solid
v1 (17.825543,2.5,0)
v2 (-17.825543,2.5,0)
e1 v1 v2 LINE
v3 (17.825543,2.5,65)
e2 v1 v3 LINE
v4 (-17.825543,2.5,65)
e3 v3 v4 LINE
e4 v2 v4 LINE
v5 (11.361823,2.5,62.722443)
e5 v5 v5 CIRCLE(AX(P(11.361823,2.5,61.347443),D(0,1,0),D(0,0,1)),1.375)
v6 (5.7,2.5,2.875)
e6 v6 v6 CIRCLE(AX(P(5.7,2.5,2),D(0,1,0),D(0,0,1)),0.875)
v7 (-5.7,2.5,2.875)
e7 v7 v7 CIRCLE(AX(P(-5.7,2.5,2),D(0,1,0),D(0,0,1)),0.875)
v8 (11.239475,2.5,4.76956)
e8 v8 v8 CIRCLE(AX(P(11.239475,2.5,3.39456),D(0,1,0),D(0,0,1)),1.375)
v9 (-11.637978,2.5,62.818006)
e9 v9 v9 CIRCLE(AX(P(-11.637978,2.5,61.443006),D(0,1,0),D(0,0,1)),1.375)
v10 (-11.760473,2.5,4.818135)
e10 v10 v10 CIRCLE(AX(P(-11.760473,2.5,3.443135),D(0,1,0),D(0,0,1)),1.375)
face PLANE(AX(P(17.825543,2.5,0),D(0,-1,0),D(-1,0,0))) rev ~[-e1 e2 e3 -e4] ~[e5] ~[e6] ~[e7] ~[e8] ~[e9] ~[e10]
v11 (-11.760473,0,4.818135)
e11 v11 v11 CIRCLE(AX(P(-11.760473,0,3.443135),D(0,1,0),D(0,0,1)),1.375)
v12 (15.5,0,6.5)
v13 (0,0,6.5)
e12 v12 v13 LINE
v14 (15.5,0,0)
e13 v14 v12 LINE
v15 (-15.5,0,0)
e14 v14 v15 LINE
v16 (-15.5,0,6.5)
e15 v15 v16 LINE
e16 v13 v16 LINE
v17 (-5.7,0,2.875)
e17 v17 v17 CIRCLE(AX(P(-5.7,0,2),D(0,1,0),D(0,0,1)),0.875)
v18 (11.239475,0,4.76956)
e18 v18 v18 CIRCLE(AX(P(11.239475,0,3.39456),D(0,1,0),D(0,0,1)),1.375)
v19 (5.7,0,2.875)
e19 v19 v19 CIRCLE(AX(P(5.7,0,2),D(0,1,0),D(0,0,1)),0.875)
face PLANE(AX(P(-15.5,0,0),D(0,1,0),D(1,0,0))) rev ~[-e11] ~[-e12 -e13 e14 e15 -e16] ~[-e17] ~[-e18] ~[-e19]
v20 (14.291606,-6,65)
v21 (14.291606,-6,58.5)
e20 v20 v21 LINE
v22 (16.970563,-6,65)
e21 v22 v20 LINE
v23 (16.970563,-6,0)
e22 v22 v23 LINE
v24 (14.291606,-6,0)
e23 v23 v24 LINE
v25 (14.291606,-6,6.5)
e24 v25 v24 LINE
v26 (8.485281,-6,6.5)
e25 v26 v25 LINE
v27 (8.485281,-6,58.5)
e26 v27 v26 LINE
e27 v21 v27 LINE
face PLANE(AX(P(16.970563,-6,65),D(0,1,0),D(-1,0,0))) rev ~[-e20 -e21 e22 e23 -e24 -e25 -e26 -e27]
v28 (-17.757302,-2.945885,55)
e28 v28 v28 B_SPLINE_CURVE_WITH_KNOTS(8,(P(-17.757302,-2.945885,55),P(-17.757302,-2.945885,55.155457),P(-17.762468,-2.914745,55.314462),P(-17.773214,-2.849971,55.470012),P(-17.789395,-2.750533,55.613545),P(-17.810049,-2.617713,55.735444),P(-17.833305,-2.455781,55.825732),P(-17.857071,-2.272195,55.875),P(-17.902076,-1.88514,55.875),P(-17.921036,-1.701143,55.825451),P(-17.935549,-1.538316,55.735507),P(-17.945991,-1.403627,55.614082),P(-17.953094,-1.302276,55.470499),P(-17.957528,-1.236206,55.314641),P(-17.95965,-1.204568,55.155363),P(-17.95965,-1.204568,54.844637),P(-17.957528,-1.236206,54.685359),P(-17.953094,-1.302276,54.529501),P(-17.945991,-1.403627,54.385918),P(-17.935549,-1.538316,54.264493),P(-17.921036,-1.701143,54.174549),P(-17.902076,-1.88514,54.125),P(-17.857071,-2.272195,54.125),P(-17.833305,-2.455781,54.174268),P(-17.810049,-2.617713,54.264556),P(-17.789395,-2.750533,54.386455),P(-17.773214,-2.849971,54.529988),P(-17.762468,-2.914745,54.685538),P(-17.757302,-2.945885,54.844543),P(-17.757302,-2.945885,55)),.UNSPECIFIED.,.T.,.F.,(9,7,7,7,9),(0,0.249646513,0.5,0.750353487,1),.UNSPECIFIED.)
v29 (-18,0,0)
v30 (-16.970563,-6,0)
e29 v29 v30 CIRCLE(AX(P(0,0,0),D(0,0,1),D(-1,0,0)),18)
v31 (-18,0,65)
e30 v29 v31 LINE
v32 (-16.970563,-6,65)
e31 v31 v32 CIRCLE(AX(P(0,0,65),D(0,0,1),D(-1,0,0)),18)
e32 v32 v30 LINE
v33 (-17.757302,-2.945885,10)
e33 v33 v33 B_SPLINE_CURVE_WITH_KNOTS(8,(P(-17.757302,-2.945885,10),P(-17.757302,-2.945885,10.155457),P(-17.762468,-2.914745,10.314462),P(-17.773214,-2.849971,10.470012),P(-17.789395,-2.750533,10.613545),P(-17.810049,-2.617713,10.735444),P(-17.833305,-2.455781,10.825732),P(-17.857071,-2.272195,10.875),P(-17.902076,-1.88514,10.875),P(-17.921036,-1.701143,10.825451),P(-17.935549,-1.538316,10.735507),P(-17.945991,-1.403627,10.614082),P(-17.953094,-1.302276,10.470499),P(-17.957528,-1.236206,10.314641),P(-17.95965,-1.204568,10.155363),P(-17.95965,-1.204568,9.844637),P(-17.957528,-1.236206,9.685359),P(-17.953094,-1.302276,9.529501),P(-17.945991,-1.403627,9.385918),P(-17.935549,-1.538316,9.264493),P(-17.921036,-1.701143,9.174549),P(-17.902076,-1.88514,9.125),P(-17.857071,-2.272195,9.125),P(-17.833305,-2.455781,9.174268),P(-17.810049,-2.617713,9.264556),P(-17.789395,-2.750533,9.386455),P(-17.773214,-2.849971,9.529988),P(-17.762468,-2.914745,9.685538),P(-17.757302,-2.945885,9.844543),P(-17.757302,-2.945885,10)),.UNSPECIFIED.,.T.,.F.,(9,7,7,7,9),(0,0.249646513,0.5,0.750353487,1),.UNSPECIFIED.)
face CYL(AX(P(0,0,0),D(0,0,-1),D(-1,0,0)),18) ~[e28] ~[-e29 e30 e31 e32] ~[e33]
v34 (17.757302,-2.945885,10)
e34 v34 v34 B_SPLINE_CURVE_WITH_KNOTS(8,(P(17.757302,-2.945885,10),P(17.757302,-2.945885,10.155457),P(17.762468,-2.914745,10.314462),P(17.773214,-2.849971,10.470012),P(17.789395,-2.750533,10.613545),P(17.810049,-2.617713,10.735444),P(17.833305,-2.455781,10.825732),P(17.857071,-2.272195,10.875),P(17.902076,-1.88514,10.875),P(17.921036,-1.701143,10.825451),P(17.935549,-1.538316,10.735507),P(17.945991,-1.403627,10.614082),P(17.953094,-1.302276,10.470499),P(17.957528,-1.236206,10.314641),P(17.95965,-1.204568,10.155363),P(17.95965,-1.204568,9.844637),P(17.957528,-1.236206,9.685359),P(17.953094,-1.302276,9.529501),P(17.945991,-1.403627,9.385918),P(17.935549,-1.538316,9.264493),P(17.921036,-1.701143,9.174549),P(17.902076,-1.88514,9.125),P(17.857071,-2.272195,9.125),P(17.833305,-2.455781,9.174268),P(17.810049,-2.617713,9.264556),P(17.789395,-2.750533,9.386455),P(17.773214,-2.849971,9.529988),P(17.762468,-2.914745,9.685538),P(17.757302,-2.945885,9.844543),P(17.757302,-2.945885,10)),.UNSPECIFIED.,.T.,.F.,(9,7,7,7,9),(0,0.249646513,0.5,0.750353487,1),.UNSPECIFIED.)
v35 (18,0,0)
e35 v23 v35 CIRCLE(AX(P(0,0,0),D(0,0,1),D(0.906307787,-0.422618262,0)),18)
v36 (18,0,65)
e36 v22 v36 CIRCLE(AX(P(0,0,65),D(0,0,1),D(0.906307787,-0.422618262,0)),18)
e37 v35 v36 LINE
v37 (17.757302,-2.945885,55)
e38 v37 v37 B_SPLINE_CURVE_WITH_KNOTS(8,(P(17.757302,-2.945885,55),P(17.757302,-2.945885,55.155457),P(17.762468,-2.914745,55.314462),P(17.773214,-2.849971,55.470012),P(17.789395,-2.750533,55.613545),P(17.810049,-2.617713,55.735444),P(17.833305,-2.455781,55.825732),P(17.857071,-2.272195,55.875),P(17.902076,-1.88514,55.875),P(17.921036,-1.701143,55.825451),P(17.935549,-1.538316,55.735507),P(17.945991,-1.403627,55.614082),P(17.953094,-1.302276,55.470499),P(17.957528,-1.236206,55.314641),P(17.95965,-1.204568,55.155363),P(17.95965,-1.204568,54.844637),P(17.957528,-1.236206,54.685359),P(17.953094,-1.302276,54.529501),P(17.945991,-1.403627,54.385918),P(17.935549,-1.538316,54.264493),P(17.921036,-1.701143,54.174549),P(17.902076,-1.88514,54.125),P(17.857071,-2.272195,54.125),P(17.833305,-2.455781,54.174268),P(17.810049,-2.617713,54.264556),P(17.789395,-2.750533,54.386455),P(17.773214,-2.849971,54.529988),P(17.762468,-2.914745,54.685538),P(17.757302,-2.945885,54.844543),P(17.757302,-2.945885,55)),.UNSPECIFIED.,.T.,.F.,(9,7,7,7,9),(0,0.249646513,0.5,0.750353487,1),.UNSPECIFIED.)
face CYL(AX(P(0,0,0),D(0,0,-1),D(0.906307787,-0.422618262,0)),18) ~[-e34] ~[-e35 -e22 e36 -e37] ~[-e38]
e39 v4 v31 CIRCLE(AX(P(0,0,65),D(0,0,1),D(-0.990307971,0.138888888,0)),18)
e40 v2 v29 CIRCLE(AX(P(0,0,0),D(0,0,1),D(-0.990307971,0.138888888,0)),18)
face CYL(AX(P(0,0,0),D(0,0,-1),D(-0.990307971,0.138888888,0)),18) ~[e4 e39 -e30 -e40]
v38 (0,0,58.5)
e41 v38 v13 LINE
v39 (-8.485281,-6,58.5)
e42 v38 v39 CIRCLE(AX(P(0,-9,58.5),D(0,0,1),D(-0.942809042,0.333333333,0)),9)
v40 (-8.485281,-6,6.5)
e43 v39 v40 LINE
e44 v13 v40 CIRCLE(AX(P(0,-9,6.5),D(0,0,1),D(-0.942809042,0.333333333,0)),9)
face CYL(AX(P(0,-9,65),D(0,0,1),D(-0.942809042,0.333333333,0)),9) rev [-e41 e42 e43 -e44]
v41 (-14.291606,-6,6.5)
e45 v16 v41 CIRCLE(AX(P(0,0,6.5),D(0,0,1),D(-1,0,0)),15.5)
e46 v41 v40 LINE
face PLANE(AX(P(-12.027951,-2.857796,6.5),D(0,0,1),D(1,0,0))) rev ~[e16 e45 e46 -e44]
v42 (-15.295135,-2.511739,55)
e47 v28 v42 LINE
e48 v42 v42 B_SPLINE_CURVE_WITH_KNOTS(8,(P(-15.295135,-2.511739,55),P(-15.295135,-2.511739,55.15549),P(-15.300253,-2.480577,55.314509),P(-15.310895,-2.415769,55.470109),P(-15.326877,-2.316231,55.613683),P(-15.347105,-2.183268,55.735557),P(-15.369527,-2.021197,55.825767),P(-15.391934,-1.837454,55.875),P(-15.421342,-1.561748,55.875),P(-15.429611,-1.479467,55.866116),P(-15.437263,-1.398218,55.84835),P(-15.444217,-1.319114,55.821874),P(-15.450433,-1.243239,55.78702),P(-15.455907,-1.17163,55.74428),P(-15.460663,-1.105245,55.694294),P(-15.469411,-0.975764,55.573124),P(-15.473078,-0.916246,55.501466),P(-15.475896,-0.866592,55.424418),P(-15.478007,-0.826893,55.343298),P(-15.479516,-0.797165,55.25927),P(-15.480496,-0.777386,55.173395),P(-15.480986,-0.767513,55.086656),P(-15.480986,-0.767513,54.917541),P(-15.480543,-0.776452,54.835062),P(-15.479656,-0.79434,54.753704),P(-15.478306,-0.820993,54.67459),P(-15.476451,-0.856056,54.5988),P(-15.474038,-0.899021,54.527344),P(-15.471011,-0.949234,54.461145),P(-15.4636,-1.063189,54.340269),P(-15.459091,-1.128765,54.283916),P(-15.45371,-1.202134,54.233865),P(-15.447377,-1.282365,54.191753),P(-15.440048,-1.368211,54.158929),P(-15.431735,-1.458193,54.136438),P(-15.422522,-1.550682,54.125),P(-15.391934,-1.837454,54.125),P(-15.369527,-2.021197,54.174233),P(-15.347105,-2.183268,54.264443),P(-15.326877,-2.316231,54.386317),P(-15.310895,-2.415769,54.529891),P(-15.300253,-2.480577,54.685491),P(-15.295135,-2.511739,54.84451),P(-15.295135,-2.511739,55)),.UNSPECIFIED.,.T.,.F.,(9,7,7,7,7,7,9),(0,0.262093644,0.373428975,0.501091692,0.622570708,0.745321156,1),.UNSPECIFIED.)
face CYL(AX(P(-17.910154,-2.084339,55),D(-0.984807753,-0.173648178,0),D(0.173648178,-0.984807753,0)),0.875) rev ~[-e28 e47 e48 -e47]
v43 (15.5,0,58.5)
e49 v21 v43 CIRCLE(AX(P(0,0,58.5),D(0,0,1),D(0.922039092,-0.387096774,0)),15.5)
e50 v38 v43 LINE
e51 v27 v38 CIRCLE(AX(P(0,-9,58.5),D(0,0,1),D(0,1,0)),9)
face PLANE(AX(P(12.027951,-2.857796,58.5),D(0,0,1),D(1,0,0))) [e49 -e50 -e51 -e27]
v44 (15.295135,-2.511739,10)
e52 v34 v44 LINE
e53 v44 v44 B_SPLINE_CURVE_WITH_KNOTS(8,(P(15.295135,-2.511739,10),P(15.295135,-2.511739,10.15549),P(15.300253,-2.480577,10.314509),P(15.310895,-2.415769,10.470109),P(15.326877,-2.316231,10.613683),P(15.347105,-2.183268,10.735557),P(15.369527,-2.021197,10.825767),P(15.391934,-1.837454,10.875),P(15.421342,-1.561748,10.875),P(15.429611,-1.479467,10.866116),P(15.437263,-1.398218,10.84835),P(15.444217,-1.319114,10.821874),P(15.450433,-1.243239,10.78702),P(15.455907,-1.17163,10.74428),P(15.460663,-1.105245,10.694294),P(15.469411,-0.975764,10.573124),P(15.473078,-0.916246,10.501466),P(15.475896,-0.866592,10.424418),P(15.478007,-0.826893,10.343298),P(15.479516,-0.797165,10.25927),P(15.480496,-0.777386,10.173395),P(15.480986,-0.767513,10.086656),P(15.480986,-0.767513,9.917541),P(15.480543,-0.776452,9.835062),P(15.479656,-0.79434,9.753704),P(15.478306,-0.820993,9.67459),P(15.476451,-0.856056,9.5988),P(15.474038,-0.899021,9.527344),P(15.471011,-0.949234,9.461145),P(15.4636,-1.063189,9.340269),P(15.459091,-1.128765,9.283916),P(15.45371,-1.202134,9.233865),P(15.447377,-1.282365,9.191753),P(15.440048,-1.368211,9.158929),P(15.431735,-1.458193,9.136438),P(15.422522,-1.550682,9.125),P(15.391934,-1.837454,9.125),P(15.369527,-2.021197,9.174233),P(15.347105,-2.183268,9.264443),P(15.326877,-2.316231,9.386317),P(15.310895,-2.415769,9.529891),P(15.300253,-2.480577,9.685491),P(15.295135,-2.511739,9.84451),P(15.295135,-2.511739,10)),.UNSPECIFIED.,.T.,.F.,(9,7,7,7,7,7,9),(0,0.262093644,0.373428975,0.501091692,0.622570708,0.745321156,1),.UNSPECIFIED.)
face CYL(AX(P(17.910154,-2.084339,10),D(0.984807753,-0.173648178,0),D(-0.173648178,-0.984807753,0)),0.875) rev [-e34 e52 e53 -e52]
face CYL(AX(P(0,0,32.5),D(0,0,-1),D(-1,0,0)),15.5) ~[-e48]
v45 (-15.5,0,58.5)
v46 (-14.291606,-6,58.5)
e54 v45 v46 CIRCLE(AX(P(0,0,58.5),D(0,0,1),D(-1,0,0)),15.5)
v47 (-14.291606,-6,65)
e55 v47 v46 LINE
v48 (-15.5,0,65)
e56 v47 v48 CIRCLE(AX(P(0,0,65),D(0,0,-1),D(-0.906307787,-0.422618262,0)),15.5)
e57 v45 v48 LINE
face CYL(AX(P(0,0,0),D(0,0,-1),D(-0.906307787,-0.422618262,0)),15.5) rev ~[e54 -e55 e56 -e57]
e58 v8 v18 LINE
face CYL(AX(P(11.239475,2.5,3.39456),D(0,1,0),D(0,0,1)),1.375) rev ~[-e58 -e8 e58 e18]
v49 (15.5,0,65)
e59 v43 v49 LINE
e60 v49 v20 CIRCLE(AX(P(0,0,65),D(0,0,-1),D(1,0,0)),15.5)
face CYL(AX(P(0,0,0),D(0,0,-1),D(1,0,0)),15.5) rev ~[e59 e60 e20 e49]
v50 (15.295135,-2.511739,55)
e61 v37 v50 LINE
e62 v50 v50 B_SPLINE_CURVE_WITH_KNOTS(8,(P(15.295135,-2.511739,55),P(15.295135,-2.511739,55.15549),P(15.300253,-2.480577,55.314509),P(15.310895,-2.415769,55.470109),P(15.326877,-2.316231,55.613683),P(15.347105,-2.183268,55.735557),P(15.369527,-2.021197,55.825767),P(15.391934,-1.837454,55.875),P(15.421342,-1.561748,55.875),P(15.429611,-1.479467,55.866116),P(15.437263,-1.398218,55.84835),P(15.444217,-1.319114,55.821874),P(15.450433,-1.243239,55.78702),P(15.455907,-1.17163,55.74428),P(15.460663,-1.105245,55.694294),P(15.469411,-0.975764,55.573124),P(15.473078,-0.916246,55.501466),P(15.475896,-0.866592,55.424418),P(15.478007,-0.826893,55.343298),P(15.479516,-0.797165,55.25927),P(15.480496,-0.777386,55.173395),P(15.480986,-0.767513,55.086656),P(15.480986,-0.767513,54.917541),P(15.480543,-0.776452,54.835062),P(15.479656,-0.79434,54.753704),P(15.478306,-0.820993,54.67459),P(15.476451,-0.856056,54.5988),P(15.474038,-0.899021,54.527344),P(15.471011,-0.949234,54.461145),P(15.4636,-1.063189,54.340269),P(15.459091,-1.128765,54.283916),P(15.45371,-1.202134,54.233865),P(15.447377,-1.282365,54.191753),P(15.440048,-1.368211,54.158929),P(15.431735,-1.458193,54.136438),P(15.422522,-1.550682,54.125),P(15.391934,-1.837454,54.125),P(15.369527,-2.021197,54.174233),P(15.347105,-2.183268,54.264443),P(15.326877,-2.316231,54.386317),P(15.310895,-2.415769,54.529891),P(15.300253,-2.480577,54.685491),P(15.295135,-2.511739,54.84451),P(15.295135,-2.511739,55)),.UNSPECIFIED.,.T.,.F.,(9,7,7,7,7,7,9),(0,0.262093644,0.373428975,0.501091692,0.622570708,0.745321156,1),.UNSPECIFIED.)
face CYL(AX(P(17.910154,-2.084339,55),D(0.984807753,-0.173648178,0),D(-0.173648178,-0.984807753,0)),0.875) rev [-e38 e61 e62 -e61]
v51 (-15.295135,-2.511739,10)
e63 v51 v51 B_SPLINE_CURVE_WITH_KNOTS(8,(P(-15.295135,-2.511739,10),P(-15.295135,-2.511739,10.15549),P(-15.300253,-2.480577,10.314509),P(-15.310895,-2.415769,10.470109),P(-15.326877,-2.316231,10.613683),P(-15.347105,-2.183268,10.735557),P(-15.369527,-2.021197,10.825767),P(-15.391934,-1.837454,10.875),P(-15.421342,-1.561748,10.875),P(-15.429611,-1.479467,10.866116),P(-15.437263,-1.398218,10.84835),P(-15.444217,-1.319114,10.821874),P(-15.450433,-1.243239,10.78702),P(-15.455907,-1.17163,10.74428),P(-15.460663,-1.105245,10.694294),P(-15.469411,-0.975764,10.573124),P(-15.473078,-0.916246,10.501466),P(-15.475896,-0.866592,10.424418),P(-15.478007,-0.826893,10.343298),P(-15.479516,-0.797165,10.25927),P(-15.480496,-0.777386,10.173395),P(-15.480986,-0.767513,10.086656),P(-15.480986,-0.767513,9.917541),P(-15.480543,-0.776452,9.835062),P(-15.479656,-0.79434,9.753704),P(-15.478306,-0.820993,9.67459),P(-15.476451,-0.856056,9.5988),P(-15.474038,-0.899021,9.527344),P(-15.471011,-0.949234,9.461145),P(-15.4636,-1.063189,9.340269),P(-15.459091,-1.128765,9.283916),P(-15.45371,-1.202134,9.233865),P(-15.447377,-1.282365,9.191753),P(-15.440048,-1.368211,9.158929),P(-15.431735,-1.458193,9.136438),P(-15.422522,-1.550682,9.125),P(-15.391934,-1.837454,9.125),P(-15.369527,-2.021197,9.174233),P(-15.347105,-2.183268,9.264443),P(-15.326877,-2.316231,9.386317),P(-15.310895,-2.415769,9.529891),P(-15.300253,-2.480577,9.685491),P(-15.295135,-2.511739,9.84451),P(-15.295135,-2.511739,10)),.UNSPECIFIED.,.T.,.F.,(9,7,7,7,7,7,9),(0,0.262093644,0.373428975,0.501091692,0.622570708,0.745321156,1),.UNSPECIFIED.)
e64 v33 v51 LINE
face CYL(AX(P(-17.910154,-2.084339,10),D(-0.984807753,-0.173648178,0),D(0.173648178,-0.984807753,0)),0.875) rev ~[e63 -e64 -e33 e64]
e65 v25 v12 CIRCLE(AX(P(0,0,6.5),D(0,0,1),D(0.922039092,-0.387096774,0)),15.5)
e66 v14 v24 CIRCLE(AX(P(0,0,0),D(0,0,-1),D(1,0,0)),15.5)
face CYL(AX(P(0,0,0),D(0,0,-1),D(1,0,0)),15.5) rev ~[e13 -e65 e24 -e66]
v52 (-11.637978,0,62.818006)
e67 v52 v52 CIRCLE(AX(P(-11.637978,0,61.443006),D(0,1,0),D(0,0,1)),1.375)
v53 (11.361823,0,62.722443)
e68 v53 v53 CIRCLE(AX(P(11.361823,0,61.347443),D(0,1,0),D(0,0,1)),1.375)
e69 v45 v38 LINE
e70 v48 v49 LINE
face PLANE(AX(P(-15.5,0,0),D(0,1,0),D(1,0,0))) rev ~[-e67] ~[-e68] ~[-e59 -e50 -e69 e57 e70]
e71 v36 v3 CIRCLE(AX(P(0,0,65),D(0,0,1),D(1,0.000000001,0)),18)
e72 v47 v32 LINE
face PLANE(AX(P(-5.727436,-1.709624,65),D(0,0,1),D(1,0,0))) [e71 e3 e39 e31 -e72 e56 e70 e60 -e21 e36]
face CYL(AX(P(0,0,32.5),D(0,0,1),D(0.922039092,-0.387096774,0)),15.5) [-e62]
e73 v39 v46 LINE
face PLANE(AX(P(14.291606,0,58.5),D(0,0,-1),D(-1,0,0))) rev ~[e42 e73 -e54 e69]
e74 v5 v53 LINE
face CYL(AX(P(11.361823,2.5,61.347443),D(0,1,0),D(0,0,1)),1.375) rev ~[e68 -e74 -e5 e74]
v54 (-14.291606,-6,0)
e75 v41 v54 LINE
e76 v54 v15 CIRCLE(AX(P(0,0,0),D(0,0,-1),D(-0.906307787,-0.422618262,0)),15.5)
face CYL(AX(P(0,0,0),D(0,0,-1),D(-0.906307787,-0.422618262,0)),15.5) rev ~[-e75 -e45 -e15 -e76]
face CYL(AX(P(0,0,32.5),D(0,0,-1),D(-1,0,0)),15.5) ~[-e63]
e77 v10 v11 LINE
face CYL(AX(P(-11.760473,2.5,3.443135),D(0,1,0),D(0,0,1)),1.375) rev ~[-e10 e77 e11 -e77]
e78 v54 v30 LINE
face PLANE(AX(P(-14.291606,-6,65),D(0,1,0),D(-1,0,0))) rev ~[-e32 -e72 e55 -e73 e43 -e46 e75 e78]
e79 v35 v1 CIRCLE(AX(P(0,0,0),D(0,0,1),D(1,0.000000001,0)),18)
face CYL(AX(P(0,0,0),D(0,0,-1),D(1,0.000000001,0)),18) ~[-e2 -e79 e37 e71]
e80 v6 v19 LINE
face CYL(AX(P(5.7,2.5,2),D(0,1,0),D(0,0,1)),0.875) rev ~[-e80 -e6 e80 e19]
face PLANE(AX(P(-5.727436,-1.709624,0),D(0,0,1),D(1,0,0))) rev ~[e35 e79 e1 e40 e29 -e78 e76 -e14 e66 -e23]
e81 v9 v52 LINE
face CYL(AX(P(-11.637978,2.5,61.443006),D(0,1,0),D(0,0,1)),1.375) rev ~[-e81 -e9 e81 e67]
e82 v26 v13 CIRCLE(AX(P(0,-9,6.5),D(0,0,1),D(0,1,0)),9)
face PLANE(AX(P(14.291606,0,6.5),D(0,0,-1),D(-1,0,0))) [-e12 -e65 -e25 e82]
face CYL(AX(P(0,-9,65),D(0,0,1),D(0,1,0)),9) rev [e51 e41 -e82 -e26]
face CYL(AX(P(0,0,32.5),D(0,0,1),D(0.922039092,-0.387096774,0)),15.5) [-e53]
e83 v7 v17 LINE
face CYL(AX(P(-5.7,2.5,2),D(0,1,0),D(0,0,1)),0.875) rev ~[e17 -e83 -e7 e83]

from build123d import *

# Parameters (mm, degrees)
BOSS_EXTRUDE1_DEPTH     = 65
CUT_EXTRUDE1_REACH      = 70.199
SKETCH2_R               = 1.374999977
SKETCH2_R_2             = 1.374999979
SKETCH2_R_3             = 1.374999935
SKETCH2_R_4             = 1.374999972
BOSS_EXTRUDE2_DEPTH     = 65
CUT_EXTRUDE3_REACH      = 70.199
CUT_EXTRUDE3_END_RADIUS = 9
SKETCH5_R               = 0.875
CUT_EXTRUDE4_REACH      = 76.384
CUT_EXTRUDE4_END_RADIUS = 15.5
SKETCH6_R               = 0.875
BOSS_EXTRUDE3_DEPTH     = 26
CUT_EXTRUDE7_DEPTH      = 69
SKETCH11_W              = 28.583211856
SKETCH11_H              = 6.5
CUT_EXTRUDE8_DEPTH      = 69


with BuildPart() as part:
    # Sketch1 → Boss-Extrude1 (new body)
    with BuildSketch(Plane.XY):
        with BuildLine():
            ThreePointArc((16.313540167, -7.607128711), (17.573328128, -3.895913051), (18, 0))
            Line((18, 0), (15.5, 0))
            ThreePointArc((15.5, 0), (15.13258811, -3.354814016), (14.047770699, -6.550583057))
            Line((14.047770699, -6.550583057), (16.313540167, -7.607128711))
        make_face()
        with BuildLine():
            Line((15.5, 0), (18, 0))
            ThreePointArc((18, 0), (17.9563329, 1.253039812), (17.82554347, 2.5))
            Line((17.82554347, 2.5), (15.297058541, 2.5))
            ThreePointArc((15.297058541, 2.5), (15.449181328, 1.254111761), (15.5, 0))
        make_face()
        with BuildLine():
            Line((-15.297058541, 2.5), (-17.82554347, 2.5))
            ThreePointArc((-17.82554347, 2.5), (-17.9563329, 1.253039812), (-18, 0))
            Line((-18, 0), (-15.5, 0))
            ThreePointArc((-15.5, 0), (-15.449181328, 1.254111761), (-15.297058541, 2.5))
        make_face()
        with BuildLine():
            Line((0, 0), (15.5, 0))
            ThreePointArc((15.5, 0), (15.449181328, 1.254111761), (15.297058541, 2.5))
            Line((15.297058541, 2.5), (-15.297058541, 2.5))
            ThreePointArc((-15.297058541, 2.5), (-15.449181328, 1.254111761), (-15.5, 0))
            Line((-15.5, 0), (0, 0))
        make_face()
        with BuildLine():
            ThreePointArc((-18, 0), (-17.573328128, -3.895913051), (-16.313540167, -7.607128711))
            Line((-16.313540167, -7.607128711), (-14.047770699, -6.550583057))
            ThreePointArc((-14.047770699, -6.550583057), (-15.13258811, -3.354814016), (-15.5, 0))
            Line((-15.5, 0), (-18, 0))
        make_face()
        with BuildLine():
            Line((15.5, 0), (18, 0))
            ThreePointArc((18, 0), (17.9563329, 1.253039812), (17.82554347, 2.5))
            Line((17.82554347, 2.5), (15.297058541, 2.5))
            ThreePointArc((15.297058541, 2.5), (15.449181328, 1.254111761), (15.5, 0))
        make_face()
        with BuildLine():
            Line((-15.297058541, 2.5), (-17.82554347, 2.5))
            ThreePointArc((-17.82554347, 2.5), (-17.9563329, 1.253039812), (-18, 0))
            Line((-18, 0), (-15.5, 0))
            ThreePointArc((-15.5, 0), (-15.449181328, 1.254111761), (-15.297058541, 2.5))
        make_face()
    extrude(amount=BOSS_EXTRUDE1_DEPTH)

    # Sketch2 → Cut-Extrude1 (cut, up to next)
    with BuildSketch(Plane(origin=(0, 2.5, 0), x_dir=(1, 0, 0), z_dir=(0, 1, 0)), mode=Mode.PRIVATE) as cut_extrude1_sk1:
        with Locations(Location((11.239474716, -3.394559676, 0), (0, 0, 270))):
            Circle(SKETCH2_R)
    cut_extrude1_tool1 = extrude(cut_extrude1_sk1.sketch, amount=-CUT_EXTRUDE1_REACH, mode=Mode.PRIVATE) & part.part
    # Sketch2 → Cut-Extrude1 (cut, up to next)
    with BuildSketch(Plane(origin=(0, 2.5, 0), x_dir=(1, 0, 0), z_dir=(0, 1, 0)), mode=Mode.PRIVATE) as cut_extrude1_sk2:
        with Locations(Location((-11.760472903, -3.443135131, 0), (0, 0, 270))):
            Circle(SKETCH2_R_2)
    cut_extrude1_tool2 = extrude(cut_extrude1_sk2.sketch, amount=-CUT_EXTRUDE1_REACH, mode=Mode.PRIVATE) & part.part
    # Sketch2 → Cut-Extrude1 (cut, up to next)
    with BuildSketch(Plane(origin=(0, 2.5, 0), x_dir=(1, 0, 0), z_dir=(0, 1, 0)), mode=Mode.PRIVATE) as cut_extrude1_sk3:
        with Locations(Location((11.361823253, -61.347443071, 0), (0, 0, 270))):
            Circle(SKETCH2_R_3)
    cut_extrude1_tool3 = extrude(cut_extrude1_sk3.sketch, amount=-CUT_EXTRUDE1_REACH, mode=Mode.PRIVATE) & part.part
    # Sketch2 → Cut-Extrude1 (cut, up to next)
    with BuildSketch(Plane(origin=(0, 2.5, 0), x_dir=(1, 0, 0), z_dir=(0, 1, 0)), mode=Mode.PRIVATE) as cut_extrude1_sk4:
        with Locations(Location((-11.637978285, -61.443005778, 0), (0, 0, 270))):
            Circle(SKETCH2_R_4)
    cut_extrude1_tool4 = extrude(cut_extrude1_sk4.sketch, amount=-CUT_EXTRUDE1_REACH, mode=Mode.PRIVATE) & part.part
    add(cut_extrude1_tool1.solids().sort_by_distance((11.239475, 2.5, 3.39456))[0], mode=Mode.SUBTRACT)
    add(cut_extrude1_tool2.solids().sort_by_distance((-11.760473, 2.5, 3.443135))[0], mode=Mode.SUBTRACT)
    add(cut_extrude1_tool3.solids().sort_by_distance((11.361823, 2.5, 61.347443))[0], mode=Mode.SUBTRACT)
    add(cut_extrude1_tool4.solids().sort_by_distance((-11.637978, 2.5, 61.443006))[0], mode=Mode.SUBTRACT)

    # Sketch3 → Boss-Extrude2 (add)
    with BuildSketch(Plane.XY.offset(65)):
        with BuildLine():
            Line((-9, 0), (-9, -6))
            Line((-9, -6), (-8.485281374, -6))
            ThreePointArc((-8.485281374, -6), (-5.196152423, -1.651530772), (0, 0))
            Line((0, 0), (-9, 0))
        make_face()
        with BuildLine():
            ThreePointArc((0, 0), (5.196152423, -1.651530772), (8.485281374, -6))
            Line((8.485281374, -6), (9, -6))
            Line((9, -6), (9, 0))
            Line((9, 0), (0, 0))
        make_face()
    extrude(amount=-BOSS_EXTRUDE2_DEPTH)

    # Cut-Extrude3: up to this cylinder (the profile starts outside it)
    cut_extrude3_end = Plane(origin=(0, -9, 2), z_dir=(0, 0, 1)) * Cylinder(CUT_EXTRUDE3_END_RADIUS, 159.398, mode=Mode.PRIVATE)
    # Sketch5 → Cut-Extrude3 (cut, up to the surface)
    with BuildSketch(Plane(origin=(0, 2.5, 0), x_dir=(1, 0, 0), z_dir=(0, 1, 0)), mode=Mode.PRIVATE) as cut_extrude3_sk1:
        with Locations(Location((-5.7, -2, 0), (0, 0, 270))):
            Circle(SKETCH5_R)
    cut_extrude3_tool1 = extrude(cut_extrude3_sk1.sketch, amount=-CUT_EXTRUDE3_REACH, mode=Mode.PRIVATE) - cut_extrude3_end
    add(cut_extrude3_tool1.solids().sort_by_distance((-5.7, 2.5, 2))[0], mode=Mode.SUBTRACT)
    # Sketch5 → Cut-Extrude3 (cut, up to the surface)
    with BuildSketch(Plane(origin=(0, 2.5, 0), x_dir=(1, 0, 0), z_dir=(0, 1, 0)), mode=Mode.PRIVATE) as cut_extrude3_sk2:
        with Locations(Location((5.7, -2, 0), (0, 0, 270))):
            Circle(SKETCH5_R)
    cut_extrude3_tool2 = extrude(cut_extrude3_sk2.sketch, amount=-CUT_EXTRUDE3_REACH, mode=Mode.PRIVATE) - cut_extrude3_end
    add(cut_extrude3_tool2.solids().sort_by_distance((5.7, 2.5, 2))[0], mode=Mode.SUBTRACT)

    # Cut-Extrude4: up to this cylinder (the profile starts outside it)
    cut_extrude4_end = Plane(origin=(0, 0, 32.5), z_dir=(0, 0, -1)) * Cylinder(CUT_EXTRUDE4_END_RADIUS, 229.768, mode=Mode.PRIVATE)
    # Sketch6 → Cut-Extrude4 (cut, up to the surface)
    with BuildSketch(Plane(origin=(-17.726539554, -3.125667198, 0), x_dir=(0, 0, -1), z_dir=(-0.984807753012208, -0.17364817766693072, 0)), mode=Mode.PRIVATE) as cut_extrude4_sk1:
        with Locations(Location((-55, -1.057392522, 0), (0, 0, 90))):
            Circle(SKETCH6_R)
    cut_extrude4_tool1 = extrude(cut_extrude4_sk1.sketch, amount=-CUT_EXTRUDE4_REACH, mode=Mode.PRIVATE) - cut_extrude4_end
    # Sketch6 → Cut-Extrude4 (cut, up to the surface)
    with BuildSketch(Plane(origin=(-17.726539554, -3.125667198, 0), x_dir=(0, 0, -1), z_dir=(-0.984807753012208, -0.17364817766693072, 0)), mode=Mode.PRIVATE) as cut_extrude4_sk2:
        with Locations(Location((-10, -1.057392522, 0), (0, 0, 90))):
            Circle(SKETCH6_R)
    cut_extrude4_tool2 = extrude(cut_extrude4_sk2.sketch, amount=-CUT_EXTRUDE4_REACH, mode=Mode.PRIVATE) - cut_extrude4_end
    cut_extrude4 = cut_extrude4_tool1.solids().sort_by_distance((-17.910154, -2.084339, 55))[0] + cut_extrude4_tool2.solids().sort_by_distance((-17.910154, -2.084339, 10))[0]
    add(cut_extrude4, mode=Mode.SUBTRACT)

    # Mirror1: Cut-Extrude4 across plane
    add(cut_extrude4.mirror(Plane(origin=(0, 0, 0), x_dir=(0, 0, 1), z_dir=(1, 0, 0))), mode=Mode.SUBTRACT)

    # Sketch8 → Boss-Extrude3 (add, symmetric)
    with BuildSketch(Plane.XY.offset(32.5)):
        with BuildLine():
            Line((-14.291605928, -6), (-9, -6))
            Line((-9, -6), (-9, 0))
            Line((-9, 0), (-15.5, 0))
            ThreePointArc((-15.5, 0), (-15.194898682, -3.060237582), (-14.291605928, -6))
        make_face()
        with BuildLine():
            Line((9, 0), (9, -6))
            Line((9, -6), (14.291605928, -6))
            ThreePointArc((14.291605928, -6), (15.194898682, -3.060237582), (15.5, 0))
            Line((15.5, 0), (9, 0))
        make_face()
    extrude(amount=BOSS_EXTRUDE3_DEPTH, both=True)

    # Sketch9 → Cut-Extrude7 (cut)
    with BuildSketch(Plane.XY.offset(65)):
        with BuildLine():
            ThreePointArc((-14.047770699, -6.550583057), (-14.172362271, -6.276475737), (-14.291605928, -6))
            Line((-14.291605928, -6), (-16.970562748, -6))
            ThreePointArc((-16.970562748, -6), (-16.661440286, -6.811490851), (-16.313540167, -7.607128711))
            Line((-16.313540167, -7.607128711), (-14.047770699, -6.550583057))
        make_face()
        with BuildLine():
            Line((16.970562748, -6), (14.291605928, -6))
            ThreePointArc((14.291605928, -6), (14.172362271, -6.276475737), (14.047770699, -6.550583057))
            Line((14.047770699, -6.550583057), (16.313540167, -7.607128711))
            ThreePointArc((16.313540167, -7.607128711), (16.661440286, -6.811490851), (16.970562748, -6))
        make_face()
    extrude(amount=-CUT_EXTRUDE7_DEPTH, mode=Mode.SUBTRACT)

    # Sketch11 → Cut-Extrude8 (cut)
    with BuildSketch(Plane(origin=(0, 0, 0), x_dir=(-1, 0, 0), z_dir=(0, -1, 0))):
        with Locations((0, -61.75)):
            Rectangle(SKETCH11_W, SKETCH11_H)
        with Locations((0, -3.25)):
            Rectangle(SKETCH11_W, SKETCH11_H)
    extrude(amount=CUT_EXTRUDE8_DEPTH, mode=Mode.SUBTRACT)


solid = part.part
